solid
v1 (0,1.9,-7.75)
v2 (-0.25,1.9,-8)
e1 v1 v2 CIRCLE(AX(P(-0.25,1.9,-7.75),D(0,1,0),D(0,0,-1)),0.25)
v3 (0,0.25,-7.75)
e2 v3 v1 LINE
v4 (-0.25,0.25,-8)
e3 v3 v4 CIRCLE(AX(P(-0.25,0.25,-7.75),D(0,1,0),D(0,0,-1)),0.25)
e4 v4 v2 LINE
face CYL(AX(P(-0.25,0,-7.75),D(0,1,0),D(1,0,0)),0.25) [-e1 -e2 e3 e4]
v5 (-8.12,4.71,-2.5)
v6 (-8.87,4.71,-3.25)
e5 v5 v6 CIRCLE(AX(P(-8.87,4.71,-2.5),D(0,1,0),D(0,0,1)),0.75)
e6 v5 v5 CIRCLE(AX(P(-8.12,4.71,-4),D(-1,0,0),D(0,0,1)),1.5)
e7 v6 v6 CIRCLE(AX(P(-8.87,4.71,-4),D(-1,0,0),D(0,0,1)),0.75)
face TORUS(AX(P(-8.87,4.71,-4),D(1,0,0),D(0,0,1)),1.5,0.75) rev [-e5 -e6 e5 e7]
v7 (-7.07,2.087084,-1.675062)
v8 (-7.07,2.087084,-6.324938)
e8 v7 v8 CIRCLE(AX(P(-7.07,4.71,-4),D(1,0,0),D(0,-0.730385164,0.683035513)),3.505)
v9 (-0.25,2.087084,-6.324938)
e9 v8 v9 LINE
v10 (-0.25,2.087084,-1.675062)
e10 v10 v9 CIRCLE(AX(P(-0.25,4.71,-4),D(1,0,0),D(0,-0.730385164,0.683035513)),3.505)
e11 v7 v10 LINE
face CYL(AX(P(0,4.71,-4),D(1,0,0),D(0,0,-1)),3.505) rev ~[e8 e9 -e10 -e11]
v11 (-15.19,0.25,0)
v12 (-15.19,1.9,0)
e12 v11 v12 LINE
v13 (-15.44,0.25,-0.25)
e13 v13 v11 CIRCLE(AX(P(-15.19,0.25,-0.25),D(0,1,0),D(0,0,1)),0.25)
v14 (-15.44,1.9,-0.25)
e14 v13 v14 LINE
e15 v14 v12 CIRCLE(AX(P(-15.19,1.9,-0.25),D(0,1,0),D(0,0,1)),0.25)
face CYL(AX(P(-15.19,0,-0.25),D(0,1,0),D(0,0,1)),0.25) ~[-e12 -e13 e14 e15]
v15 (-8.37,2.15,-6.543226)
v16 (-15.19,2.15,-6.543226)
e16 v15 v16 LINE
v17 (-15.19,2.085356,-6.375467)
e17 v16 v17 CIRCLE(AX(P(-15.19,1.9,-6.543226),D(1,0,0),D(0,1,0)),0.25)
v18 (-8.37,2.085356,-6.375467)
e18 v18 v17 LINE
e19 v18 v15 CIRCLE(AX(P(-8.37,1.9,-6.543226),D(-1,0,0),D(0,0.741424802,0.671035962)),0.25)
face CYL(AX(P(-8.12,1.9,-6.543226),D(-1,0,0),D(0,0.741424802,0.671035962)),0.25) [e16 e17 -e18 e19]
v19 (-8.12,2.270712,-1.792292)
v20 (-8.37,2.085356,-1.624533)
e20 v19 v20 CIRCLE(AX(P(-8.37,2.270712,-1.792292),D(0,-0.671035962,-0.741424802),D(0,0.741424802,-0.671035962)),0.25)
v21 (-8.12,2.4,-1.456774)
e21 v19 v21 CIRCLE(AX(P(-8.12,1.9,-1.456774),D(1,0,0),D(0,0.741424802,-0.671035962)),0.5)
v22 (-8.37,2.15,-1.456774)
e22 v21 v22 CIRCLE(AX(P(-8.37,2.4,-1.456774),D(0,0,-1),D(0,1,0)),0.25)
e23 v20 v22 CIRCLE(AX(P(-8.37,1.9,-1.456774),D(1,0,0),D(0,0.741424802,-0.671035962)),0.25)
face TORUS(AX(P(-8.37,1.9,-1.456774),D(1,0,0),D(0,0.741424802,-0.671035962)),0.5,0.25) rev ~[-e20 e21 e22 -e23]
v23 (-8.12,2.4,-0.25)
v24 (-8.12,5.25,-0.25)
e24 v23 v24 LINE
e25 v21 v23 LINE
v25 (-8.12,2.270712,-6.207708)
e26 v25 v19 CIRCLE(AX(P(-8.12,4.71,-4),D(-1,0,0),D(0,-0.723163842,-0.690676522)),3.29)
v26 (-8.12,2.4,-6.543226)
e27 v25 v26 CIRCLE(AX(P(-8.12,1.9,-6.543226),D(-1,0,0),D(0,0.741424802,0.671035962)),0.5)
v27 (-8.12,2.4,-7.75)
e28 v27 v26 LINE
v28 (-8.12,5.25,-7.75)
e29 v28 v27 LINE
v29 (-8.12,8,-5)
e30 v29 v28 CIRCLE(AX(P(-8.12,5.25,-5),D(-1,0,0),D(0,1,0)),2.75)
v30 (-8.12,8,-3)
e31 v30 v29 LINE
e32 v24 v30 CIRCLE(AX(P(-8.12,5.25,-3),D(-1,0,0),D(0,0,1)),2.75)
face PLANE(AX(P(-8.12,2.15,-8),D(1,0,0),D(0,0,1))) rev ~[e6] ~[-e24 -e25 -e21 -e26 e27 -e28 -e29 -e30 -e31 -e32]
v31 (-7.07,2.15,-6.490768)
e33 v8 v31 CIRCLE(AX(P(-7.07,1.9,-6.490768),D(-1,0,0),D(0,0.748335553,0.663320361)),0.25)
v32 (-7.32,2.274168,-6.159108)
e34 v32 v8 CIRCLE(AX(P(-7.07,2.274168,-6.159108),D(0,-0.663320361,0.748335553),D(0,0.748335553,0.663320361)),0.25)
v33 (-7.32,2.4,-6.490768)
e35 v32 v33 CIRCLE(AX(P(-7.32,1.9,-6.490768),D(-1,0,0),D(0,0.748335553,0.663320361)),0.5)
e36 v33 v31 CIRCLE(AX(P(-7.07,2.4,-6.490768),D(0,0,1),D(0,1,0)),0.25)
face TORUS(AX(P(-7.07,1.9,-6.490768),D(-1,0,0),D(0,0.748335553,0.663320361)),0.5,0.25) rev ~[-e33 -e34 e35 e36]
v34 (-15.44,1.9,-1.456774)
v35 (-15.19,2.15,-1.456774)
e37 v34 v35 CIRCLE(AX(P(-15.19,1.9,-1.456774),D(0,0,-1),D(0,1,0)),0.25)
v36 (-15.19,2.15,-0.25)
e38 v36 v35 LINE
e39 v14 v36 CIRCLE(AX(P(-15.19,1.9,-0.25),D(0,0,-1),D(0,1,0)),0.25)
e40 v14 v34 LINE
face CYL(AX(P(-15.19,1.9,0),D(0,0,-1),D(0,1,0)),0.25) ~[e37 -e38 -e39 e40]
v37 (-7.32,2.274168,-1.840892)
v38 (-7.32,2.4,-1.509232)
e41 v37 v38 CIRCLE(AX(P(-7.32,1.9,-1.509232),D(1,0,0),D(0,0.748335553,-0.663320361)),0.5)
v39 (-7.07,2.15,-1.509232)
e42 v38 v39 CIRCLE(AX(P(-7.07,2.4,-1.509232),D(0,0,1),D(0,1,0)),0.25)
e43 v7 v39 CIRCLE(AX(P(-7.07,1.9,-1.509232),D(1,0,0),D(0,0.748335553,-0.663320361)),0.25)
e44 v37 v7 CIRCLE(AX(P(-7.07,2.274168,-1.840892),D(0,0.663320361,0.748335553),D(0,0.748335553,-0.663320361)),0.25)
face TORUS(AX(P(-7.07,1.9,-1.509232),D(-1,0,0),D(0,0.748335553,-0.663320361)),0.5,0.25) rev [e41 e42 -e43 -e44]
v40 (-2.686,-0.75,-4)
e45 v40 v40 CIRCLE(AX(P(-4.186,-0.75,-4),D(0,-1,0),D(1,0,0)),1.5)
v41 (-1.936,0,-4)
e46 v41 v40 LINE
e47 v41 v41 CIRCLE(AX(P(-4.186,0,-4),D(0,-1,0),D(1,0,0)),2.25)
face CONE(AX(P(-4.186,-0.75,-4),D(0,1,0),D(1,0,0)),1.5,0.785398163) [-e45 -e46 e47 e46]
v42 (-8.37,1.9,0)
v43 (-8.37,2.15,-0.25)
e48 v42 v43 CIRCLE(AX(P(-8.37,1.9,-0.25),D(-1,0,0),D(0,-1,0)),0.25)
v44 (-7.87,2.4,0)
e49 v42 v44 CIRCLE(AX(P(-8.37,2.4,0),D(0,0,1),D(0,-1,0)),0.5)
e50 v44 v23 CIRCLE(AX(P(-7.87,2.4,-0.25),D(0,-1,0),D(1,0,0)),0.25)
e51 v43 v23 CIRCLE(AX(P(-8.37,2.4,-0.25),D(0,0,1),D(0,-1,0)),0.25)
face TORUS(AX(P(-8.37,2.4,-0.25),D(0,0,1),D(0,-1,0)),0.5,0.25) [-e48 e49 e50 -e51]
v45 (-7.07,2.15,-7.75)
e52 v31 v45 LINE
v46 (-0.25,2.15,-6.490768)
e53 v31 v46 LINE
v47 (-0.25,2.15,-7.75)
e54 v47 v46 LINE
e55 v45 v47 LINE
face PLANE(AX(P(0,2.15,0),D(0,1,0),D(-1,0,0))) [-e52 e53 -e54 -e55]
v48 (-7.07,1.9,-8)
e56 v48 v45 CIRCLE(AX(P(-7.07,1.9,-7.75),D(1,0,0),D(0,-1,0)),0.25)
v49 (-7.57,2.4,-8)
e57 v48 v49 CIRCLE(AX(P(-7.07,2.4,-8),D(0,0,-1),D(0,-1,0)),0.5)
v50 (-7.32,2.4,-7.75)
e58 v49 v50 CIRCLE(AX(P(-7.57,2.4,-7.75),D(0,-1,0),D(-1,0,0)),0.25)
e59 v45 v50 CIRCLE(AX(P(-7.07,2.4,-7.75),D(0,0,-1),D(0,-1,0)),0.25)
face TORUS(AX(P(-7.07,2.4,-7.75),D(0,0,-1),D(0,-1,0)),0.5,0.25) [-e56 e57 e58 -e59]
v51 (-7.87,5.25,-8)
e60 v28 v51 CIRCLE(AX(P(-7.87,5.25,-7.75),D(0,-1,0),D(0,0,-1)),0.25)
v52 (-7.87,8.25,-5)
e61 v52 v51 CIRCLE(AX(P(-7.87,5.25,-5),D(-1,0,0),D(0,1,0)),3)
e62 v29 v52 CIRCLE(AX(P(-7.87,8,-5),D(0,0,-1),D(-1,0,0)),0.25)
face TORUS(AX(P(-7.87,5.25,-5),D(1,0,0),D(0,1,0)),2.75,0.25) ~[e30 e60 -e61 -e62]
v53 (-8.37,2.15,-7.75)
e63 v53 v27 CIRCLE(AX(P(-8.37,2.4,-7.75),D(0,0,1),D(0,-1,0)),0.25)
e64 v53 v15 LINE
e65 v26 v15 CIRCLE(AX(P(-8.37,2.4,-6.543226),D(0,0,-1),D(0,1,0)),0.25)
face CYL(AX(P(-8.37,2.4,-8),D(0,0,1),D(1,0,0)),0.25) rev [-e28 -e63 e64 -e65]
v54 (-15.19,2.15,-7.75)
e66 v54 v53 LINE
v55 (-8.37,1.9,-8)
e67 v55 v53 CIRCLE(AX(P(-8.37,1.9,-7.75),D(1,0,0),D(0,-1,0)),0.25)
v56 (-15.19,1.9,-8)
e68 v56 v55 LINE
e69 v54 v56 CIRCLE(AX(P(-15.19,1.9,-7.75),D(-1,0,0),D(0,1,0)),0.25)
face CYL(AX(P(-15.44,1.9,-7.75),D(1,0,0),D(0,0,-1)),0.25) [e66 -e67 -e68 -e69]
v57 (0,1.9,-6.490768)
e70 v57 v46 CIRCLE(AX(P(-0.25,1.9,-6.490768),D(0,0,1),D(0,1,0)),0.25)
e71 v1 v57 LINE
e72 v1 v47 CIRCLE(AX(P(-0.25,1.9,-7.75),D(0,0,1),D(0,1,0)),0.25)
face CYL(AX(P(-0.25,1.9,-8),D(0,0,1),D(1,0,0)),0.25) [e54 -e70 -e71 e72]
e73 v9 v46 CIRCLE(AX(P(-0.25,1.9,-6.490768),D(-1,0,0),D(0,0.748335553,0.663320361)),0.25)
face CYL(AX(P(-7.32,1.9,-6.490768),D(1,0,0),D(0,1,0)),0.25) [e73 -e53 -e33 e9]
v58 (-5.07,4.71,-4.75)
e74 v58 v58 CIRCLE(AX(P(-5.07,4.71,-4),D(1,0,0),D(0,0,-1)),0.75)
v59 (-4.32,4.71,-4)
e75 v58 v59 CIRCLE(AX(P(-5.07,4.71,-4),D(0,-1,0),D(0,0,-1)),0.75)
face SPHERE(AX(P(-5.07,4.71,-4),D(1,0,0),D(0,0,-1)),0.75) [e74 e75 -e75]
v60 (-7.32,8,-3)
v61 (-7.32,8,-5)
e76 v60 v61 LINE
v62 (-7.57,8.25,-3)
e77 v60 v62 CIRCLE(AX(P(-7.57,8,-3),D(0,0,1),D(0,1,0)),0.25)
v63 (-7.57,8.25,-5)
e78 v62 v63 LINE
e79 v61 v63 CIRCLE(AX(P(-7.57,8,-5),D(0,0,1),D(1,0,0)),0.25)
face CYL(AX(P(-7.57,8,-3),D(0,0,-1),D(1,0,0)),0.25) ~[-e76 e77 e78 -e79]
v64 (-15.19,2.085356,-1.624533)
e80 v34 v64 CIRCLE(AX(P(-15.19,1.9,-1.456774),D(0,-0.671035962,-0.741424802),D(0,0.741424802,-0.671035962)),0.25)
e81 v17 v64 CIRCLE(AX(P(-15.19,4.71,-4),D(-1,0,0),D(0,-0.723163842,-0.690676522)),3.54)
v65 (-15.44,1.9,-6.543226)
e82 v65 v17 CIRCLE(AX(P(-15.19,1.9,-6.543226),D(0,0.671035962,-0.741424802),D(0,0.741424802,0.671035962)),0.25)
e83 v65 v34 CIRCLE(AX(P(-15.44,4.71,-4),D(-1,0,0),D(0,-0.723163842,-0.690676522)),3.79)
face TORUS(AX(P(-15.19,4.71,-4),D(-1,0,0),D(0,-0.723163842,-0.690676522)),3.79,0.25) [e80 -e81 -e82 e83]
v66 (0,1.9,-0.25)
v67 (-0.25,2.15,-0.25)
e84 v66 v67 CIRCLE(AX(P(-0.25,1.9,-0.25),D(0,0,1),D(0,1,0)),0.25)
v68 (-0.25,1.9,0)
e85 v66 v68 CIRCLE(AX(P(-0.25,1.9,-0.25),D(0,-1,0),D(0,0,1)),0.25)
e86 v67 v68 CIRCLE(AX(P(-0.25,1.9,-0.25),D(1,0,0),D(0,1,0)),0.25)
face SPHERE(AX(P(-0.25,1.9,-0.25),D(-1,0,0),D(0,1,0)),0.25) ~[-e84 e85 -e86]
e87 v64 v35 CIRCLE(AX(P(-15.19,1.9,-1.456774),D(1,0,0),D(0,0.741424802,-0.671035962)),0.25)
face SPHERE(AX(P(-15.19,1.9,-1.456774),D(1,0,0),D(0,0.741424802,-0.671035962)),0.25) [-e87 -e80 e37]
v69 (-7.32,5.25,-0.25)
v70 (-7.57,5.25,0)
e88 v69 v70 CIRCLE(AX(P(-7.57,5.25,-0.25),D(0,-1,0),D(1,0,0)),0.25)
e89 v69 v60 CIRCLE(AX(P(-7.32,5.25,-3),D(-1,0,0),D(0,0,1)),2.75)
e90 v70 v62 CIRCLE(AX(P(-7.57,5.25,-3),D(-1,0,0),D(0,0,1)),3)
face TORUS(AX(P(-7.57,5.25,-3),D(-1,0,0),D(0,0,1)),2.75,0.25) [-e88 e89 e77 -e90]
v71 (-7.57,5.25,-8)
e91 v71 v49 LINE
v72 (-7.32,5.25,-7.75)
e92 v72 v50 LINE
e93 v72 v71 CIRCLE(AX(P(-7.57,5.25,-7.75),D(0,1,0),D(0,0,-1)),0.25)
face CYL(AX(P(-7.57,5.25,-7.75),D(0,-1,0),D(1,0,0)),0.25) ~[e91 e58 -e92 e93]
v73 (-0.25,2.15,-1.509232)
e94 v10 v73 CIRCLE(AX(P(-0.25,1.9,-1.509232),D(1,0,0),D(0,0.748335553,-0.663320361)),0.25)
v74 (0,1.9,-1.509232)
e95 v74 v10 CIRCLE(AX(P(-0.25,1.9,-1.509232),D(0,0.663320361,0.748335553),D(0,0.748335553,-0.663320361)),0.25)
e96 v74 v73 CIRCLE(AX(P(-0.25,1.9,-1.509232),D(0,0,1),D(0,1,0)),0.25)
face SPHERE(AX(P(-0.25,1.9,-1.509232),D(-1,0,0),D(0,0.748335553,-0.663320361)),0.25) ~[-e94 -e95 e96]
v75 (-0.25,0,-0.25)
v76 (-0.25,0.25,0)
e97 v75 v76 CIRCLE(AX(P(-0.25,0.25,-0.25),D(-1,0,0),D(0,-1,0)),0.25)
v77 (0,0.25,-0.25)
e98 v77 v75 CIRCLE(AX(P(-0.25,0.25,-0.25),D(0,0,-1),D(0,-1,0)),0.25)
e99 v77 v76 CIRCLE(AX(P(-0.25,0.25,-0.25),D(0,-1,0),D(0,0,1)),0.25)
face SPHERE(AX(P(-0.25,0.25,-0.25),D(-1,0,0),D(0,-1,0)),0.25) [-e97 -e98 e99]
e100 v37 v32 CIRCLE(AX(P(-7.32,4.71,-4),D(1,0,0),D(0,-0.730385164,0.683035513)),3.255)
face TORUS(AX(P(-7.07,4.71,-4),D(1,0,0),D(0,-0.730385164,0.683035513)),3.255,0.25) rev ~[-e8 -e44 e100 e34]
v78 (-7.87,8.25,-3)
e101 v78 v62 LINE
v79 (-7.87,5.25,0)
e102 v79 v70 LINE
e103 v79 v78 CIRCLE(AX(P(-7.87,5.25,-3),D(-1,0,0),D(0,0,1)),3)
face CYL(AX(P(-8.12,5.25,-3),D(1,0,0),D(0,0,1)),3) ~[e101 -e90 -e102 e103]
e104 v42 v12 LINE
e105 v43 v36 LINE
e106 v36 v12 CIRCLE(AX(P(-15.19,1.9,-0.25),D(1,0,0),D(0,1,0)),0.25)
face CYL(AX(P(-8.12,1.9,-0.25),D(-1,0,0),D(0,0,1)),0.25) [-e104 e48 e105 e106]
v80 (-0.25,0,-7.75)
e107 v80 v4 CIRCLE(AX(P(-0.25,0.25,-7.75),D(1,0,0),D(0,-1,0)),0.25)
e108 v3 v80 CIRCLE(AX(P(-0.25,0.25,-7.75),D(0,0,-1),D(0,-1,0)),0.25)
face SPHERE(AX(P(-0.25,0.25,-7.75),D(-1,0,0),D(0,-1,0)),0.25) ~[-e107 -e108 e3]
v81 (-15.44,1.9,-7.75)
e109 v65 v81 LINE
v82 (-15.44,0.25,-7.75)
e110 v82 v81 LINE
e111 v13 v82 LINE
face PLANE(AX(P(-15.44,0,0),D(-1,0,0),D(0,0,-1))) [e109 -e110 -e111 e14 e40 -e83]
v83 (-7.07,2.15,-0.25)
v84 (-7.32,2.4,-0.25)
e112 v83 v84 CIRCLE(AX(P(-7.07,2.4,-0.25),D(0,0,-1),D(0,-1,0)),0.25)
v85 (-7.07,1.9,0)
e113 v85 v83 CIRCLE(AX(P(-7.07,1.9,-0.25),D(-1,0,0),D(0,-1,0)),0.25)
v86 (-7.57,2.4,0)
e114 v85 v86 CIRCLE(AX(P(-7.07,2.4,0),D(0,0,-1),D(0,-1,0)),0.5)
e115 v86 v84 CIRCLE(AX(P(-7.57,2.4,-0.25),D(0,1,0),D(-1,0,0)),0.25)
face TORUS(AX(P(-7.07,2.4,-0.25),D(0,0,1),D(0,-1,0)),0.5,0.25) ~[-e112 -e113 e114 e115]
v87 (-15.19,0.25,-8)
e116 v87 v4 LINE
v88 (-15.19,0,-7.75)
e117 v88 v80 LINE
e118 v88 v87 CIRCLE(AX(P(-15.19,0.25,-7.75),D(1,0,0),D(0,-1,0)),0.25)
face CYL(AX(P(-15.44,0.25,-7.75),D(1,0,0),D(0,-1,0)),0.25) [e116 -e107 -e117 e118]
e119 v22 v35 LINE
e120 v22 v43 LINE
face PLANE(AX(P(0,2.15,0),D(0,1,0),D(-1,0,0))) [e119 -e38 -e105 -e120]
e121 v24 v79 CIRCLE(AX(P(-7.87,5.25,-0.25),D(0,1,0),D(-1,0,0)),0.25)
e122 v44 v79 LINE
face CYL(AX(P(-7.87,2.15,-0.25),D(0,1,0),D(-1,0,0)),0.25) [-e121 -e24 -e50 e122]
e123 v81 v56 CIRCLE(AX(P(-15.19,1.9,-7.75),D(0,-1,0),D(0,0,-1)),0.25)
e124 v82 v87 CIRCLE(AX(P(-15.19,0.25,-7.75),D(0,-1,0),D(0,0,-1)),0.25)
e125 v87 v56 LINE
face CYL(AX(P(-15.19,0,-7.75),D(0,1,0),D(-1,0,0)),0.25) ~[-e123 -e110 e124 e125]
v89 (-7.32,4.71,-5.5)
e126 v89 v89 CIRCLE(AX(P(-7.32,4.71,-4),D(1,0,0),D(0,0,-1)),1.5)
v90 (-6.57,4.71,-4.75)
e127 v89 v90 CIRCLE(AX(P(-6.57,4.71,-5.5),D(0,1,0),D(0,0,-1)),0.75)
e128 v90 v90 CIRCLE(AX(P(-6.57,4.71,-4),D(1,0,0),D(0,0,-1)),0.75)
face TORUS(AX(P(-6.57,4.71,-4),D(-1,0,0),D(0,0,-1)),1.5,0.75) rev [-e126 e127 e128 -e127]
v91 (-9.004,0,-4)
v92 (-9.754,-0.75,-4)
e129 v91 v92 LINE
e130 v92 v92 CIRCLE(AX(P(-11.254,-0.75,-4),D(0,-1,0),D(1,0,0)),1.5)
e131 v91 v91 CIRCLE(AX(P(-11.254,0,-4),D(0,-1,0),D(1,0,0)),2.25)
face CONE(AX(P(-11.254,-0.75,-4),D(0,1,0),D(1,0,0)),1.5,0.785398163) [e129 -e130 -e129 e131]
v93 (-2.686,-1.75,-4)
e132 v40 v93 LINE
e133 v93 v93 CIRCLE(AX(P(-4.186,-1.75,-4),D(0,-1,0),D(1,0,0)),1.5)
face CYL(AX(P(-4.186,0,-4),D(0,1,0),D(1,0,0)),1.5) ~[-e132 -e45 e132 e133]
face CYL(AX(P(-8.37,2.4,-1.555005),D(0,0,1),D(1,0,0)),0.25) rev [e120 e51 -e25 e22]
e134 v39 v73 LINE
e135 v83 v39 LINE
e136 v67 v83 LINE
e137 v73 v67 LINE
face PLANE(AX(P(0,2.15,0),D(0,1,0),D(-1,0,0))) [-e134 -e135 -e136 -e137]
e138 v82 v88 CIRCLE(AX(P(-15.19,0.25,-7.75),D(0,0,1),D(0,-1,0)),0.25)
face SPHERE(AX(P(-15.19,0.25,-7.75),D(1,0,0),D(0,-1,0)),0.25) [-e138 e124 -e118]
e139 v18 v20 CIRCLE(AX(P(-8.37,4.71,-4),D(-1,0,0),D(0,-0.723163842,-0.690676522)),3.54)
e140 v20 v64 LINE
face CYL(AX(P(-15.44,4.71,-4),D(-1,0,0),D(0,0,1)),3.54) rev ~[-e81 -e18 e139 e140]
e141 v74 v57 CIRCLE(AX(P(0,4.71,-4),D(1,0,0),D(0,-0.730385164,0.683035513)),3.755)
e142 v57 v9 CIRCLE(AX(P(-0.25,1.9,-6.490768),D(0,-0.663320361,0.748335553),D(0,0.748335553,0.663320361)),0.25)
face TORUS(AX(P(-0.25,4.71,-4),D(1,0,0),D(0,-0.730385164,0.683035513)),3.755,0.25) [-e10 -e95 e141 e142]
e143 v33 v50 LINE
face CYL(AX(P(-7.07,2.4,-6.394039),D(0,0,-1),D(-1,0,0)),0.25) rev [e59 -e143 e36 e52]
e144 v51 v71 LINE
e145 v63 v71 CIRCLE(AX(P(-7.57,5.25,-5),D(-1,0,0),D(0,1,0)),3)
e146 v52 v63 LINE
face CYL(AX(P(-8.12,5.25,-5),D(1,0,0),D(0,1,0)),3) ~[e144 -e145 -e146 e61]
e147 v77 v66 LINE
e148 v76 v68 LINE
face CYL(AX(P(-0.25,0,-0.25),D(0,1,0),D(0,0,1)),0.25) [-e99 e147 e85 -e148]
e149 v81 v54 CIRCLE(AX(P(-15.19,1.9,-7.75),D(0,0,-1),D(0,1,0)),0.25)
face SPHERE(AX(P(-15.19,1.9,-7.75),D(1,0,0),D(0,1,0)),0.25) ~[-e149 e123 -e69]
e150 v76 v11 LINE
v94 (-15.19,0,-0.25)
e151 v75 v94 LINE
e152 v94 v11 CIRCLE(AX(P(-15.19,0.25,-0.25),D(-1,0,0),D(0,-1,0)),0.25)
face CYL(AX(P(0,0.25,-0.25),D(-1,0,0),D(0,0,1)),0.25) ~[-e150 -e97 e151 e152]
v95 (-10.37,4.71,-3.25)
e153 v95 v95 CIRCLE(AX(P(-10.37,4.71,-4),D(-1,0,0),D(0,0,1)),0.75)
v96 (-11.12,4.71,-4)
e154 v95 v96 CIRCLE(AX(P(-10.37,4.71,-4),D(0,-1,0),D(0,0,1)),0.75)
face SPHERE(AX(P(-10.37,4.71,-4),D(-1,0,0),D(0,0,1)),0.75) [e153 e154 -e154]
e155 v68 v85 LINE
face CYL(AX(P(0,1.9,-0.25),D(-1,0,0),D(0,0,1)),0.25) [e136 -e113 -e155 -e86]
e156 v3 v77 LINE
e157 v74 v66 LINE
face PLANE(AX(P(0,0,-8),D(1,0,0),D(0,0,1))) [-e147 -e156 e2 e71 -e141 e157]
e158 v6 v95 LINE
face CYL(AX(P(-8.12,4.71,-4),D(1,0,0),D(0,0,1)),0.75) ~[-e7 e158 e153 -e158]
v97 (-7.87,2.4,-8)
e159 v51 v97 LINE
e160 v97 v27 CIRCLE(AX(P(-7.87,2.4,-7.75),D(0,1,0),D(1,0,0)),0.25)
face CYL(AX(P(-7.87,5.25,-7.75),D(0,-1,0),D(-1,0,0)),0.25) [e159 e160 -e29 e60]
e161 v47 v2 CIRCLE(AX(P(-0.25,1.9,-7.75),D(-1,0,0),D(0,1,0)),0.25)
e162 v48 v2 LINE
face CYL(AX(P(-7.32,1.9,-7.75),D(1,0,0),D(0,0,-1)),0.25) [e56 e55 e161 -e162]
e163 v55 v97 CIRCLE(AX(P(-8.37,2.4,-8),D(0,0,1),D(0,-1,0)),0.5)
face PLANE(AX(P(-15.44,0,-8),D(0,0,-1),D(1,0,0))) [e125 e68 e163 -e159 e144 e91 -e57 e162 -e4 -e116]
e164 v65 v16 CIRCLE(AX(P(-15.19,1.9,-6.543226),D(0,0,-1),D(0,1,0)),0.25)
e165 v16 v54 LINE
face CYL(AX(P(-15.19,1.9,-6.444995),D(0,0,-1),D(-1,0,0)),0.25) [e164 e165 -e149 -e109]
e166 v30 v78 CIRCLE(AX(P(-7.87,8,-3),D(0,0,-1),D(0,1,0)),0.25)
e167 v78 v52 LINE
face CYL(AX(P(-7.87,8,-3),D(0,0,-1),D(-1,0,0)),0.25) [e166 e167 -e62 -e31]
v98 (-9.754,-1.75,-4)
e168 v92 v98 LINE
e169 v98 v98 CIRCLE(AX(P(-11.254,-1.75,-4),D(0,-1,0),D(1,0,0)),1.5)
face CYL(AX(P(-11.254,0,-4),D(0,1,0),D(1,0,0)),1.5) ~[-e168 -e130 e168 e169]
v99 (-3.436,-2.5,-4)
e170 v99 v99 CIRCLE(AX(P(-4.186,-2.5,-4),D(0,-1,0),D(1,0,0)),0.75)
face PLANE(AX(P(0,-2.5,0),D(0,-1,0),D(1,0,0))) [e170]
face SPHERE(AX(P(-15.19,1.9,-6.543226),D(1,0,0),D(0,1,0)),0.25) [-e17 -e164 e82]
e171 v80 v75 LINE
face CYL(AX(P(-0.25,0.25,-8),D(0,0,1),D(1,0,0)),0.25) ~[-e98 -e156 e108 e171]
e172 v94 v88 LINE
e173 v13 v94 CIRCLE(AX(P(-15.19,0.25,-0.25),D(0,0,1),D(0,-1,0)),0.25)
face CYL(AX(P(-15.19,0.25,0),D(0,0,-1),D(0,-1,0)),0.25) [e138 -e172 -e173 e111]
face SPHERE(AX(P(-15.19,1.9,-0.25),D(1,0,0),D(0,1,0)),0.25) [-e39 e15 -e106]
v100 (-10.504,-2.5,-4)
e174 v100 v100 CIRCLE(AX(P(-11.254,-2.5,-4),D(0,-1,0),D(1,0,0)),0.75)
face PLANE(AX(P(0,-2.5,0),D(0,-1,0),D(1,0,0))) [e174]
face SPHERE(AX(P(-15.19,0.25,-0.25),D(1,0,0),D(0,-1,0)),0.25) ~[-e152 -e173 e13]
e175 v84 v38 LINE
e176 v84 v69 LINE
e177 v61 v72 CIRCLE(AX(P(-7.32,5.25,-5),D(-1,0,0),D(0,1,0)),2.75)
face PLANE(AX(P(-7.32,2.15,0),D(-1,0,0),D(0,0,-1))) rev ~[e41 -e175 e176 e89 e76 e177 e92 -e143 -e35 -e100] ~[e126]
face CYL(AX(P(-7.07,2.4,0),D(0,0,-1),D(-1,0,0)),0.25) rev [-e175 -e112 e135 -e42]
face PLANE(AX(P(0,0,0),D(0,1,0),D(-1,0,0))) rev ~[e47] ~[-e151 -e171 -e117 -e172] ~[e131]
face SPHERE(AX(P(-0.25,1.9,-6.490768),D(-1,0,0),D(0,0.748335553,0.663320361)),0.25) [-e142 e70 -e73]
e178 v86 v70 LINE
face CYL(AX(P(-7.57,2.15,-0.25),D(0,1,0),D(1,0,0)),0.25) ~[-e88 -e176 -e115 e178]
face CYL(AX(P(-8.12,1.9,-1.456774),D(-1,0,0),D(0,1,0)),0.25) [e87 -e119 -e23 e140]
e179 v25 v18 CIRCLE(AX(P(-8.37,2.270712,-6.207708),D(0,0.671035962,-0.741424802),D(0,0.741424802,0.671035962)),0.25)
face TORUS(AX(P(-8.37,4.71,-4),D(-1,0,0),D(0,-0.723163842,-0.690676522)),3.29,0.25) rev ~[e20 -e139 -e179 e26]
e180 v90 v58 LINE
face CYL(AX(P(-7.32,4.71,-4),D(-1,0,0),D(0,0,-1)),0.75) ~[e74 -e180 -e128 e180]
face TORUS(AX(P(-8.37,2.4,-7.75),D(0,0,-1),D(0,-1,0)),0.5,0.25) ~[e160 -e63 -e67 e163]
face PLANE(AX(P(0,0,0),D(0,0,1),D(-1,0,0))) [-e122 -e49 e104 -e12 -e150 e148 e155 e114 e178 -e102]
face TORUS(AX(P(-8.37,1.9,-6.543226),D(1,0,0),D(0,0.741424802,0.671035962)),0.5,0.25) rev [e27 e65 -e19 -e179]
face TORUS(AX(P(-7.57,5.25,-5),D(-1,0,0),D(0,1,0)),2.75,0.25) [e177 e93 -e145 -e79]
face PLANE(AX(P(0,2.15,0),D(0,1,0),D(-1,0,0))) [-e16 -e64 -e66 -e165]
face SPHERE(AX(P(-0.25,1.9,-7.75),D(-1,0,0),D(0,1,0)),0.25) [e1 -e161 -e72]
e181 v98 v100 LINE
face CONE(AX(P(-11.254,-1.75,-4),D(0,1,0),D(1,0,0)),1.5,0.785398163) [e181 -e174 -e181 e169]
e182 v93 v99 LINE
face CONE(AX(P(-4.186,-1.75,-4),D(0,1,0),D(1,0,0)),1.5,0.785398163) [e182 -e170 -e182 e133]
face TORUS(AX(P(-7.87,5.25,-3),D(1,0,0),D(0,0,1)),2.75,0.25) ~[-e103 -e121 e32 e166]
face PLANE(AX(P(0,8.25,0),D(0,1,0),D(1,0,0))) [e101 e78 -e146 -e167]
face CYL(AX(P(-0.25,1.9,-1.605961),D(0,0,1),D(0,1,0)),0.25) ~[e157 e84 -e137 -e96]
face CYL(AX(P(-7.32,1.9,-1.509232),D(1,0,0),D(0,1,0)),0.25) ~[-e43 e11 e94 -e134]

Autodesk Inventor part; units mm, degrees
ref_plane "YZ Plane" through (0, 0, 0) normal (1, 0, 0) x (0, 1, 0)
ref_plane "XZ Plane" through (0, 0, 0) normal (0, 1, 0) x (-1, 0, 0)
ref_plane "XY Plane" through (0, 0, 0) normal (0, 0, 1) x (1, 0, 0)
sketch "Sketch1" plane through (0, 0, 0) normal (0, 1, 0) x (-1, 0, 0)
  line L0 (0, 0) -> (15.44, 0)
  line L1 (15.44, 0) -> (15.44, -8)
  line L2 (15.44, -8) -> (0, -8)
  line L3 (0, -8) -> (0, 0)
  dimension "d0" = 15.44
  dimension "d1" = 8
extrude "Extrusion1" add sketch "Sketch1" along normal blind 2.15
sketch "Sketch2" plane through (0, 2.15, 0) normal (0, 1, 0) x (1, 0, 0)
  line L0 (-15.44, 0) -> (0, 0) projected
  line L1 (0, 8) -> (-15.44, 8) projected
  line L2 (-7.72, 8) -> (-7.32, 8)
  line L3 (-7.32, 8) -> (-8.12, 8)
  line L4 (-8.12, 8) -> (-8.12, 0)
  line L5 (-8.12, 0) -> (-7.32, 0)
  line L6 (-7.32, 0) -> (-7.32, 8)
  dimension "d4" = 0.4
  dimension "d5" = 0.8
extrude "Extrusion2" add sketch "Sketch2" along normal blind 6.1
sketch "Sketch3" plane through (-7.32, 2.15, 0) normal (1, 0, 0) x (0, 0, -1)
  line L0 (0, 6.1) -> (8, 6.1) projected
  circle A0 centre (4, 2.56) radius 3.54
  circle A1 centre (4, 2.56) radius 0.75
  point P0 (0, -2.15)
  dimension "d8" = 7.08
  dimension "d11" = 1.5
extrude "Extrusion3" add sketch "Sketch3" along normal blind 3 contours A1
sketch "Sketch4" plane through (-8.12, 2.15, -8) normal (-1, 0, 0) x (0, 0, 1)
  line L0 (0, 6.1) -> (8, 6.1) projected
  circle A0 centre (4, 2.56) radius 3.54
  circle A1 centre (4, 2.56) radius 0.75
  point P0 (8, -2.15)
  dimension "d14" = 7.08
  dimension "d16" = 1.5
extrude "Extrusion4" add sketch "Sketch4" along normal blind 3 contours A1
fillet "Fillet1" radius 3 2 edges at (-7.72, 8.25, -8) (-7.72, 8.25, 0)
sketch "Sketch6" plane through (0, 0, 0) normal (1, 0, 0) x (0, 0, -1)
  circle A0 centre (4, 4.71) radius 3.505
  circle A1 centre (4, 4.71) radius 0.75 projected
  dimension "d22" = 7.01
extrude "Extrusion5" cut sketch "Sketch6" against normal up to surface (7.32 mm away)
sketch "Sketch7" plane through (-15.44, 0, -8) normal (-1, 0, 0) x (0, 0, 1)
  circle A0 centre (4, 4.71) radius 3.54
  circle A1 centre (4, 4.71) radius 0.75 projected
  dimension "d25" = 7.08
extrude "Extrusion6" cut sketch "Sketch7" against normal up to surface (7.32 mm away)
fillet "Fillet2" radius 0.25 38 edges at (-7.32, 7.3713, -7.1213) (-7.32, 3.7, -8) (-7.32, 8.25, -4) (-7.32, 7.3713, -0.8787) (-7.32, 3.7, 0) (-8.12, 8.25, -4) (-8.12, 7.3713, -0.8787) (-8.12, 3.7, 0) (-8.12, 3.7, -8) (-8.12, 7.3713, -7.1213) (-7.32, 2.15, -7.197) (-8.12, 2.15, -7.2225) (-7.32, 2.15, -0.803) (-8.12, 2.15, -0.7775) (-3.66, 2.15, -8) (-11.78, 2.15, -8) (-3.66, 2.15, 0) (-11.78, 2.15, 0) (-15.44, 2.15, -7.2225) (-15.44, 1.17, -4) (-15.44, 2.15, -0.7775) (-11.78, 2.15, -1.555) (-11.78, 2.15, -6.445) (-7.72, 0, 0) (-3.66, 2.15, -1.606) (-3.66, 2.15, -6.394) (-7.72, 0, -8) (0, 1.205, -4) (0, 2.15, -7.197) (0, 2.15, -0.803) (0, 0, -4) (-15.44, 0, -4) (-8.12, 1.17, -4) (-7.32, 1.205, -4) (-15.44, 1.075, 0) (-15.44, 1.075, -8) (0, 1.075, -8) (0, 1.075, 0)
fillet "Fillet3" radius 0.75 4 edges at (-7.32, 4.71, -3.25) (-4.32, 4.71, -3.25) (-8.12, 4.71, -4.75) (-11.12, 4.71, -4.75)
sketch "Sketch8" plane through (0, 0, 0) normal (0, -1, 0) x (1, 0, 0)
  circle A0 centre (-11.254, -4) radius 1.5
  circle A1 centre (-4.186, -4) radius 1.5
  line L0 (-0.25, 0) -> (-15.19, 0) projected
  line L1 (-15.44, -0.25) -> (-15.44, -7.75) projected
  line L2 (-15.19, -0.25) -> (-0.25, -0.25) projected
  line L3 (-0.25, -7.75) -> (-15.19, -7.75) projected
  line L4 (-7.72, -0.25) -> (-7.72, -7.75)
  point P0 (0, 0)
  dimension "d30" = 3
  dimension "d31" = 3
  dimension "d40" = 7.068
extrude "Extrusion7" add sketch "Sketch8" along normal blind 2.5
chamfer "Chamfer1" distance 0.75 angle 45 4 edges at (-5.686, 0, -4) (-5.686, -2.5, -4) (-12.754, 0, -4) (-12.754, -2.5, -4)
properties part number "Leg Joint"
